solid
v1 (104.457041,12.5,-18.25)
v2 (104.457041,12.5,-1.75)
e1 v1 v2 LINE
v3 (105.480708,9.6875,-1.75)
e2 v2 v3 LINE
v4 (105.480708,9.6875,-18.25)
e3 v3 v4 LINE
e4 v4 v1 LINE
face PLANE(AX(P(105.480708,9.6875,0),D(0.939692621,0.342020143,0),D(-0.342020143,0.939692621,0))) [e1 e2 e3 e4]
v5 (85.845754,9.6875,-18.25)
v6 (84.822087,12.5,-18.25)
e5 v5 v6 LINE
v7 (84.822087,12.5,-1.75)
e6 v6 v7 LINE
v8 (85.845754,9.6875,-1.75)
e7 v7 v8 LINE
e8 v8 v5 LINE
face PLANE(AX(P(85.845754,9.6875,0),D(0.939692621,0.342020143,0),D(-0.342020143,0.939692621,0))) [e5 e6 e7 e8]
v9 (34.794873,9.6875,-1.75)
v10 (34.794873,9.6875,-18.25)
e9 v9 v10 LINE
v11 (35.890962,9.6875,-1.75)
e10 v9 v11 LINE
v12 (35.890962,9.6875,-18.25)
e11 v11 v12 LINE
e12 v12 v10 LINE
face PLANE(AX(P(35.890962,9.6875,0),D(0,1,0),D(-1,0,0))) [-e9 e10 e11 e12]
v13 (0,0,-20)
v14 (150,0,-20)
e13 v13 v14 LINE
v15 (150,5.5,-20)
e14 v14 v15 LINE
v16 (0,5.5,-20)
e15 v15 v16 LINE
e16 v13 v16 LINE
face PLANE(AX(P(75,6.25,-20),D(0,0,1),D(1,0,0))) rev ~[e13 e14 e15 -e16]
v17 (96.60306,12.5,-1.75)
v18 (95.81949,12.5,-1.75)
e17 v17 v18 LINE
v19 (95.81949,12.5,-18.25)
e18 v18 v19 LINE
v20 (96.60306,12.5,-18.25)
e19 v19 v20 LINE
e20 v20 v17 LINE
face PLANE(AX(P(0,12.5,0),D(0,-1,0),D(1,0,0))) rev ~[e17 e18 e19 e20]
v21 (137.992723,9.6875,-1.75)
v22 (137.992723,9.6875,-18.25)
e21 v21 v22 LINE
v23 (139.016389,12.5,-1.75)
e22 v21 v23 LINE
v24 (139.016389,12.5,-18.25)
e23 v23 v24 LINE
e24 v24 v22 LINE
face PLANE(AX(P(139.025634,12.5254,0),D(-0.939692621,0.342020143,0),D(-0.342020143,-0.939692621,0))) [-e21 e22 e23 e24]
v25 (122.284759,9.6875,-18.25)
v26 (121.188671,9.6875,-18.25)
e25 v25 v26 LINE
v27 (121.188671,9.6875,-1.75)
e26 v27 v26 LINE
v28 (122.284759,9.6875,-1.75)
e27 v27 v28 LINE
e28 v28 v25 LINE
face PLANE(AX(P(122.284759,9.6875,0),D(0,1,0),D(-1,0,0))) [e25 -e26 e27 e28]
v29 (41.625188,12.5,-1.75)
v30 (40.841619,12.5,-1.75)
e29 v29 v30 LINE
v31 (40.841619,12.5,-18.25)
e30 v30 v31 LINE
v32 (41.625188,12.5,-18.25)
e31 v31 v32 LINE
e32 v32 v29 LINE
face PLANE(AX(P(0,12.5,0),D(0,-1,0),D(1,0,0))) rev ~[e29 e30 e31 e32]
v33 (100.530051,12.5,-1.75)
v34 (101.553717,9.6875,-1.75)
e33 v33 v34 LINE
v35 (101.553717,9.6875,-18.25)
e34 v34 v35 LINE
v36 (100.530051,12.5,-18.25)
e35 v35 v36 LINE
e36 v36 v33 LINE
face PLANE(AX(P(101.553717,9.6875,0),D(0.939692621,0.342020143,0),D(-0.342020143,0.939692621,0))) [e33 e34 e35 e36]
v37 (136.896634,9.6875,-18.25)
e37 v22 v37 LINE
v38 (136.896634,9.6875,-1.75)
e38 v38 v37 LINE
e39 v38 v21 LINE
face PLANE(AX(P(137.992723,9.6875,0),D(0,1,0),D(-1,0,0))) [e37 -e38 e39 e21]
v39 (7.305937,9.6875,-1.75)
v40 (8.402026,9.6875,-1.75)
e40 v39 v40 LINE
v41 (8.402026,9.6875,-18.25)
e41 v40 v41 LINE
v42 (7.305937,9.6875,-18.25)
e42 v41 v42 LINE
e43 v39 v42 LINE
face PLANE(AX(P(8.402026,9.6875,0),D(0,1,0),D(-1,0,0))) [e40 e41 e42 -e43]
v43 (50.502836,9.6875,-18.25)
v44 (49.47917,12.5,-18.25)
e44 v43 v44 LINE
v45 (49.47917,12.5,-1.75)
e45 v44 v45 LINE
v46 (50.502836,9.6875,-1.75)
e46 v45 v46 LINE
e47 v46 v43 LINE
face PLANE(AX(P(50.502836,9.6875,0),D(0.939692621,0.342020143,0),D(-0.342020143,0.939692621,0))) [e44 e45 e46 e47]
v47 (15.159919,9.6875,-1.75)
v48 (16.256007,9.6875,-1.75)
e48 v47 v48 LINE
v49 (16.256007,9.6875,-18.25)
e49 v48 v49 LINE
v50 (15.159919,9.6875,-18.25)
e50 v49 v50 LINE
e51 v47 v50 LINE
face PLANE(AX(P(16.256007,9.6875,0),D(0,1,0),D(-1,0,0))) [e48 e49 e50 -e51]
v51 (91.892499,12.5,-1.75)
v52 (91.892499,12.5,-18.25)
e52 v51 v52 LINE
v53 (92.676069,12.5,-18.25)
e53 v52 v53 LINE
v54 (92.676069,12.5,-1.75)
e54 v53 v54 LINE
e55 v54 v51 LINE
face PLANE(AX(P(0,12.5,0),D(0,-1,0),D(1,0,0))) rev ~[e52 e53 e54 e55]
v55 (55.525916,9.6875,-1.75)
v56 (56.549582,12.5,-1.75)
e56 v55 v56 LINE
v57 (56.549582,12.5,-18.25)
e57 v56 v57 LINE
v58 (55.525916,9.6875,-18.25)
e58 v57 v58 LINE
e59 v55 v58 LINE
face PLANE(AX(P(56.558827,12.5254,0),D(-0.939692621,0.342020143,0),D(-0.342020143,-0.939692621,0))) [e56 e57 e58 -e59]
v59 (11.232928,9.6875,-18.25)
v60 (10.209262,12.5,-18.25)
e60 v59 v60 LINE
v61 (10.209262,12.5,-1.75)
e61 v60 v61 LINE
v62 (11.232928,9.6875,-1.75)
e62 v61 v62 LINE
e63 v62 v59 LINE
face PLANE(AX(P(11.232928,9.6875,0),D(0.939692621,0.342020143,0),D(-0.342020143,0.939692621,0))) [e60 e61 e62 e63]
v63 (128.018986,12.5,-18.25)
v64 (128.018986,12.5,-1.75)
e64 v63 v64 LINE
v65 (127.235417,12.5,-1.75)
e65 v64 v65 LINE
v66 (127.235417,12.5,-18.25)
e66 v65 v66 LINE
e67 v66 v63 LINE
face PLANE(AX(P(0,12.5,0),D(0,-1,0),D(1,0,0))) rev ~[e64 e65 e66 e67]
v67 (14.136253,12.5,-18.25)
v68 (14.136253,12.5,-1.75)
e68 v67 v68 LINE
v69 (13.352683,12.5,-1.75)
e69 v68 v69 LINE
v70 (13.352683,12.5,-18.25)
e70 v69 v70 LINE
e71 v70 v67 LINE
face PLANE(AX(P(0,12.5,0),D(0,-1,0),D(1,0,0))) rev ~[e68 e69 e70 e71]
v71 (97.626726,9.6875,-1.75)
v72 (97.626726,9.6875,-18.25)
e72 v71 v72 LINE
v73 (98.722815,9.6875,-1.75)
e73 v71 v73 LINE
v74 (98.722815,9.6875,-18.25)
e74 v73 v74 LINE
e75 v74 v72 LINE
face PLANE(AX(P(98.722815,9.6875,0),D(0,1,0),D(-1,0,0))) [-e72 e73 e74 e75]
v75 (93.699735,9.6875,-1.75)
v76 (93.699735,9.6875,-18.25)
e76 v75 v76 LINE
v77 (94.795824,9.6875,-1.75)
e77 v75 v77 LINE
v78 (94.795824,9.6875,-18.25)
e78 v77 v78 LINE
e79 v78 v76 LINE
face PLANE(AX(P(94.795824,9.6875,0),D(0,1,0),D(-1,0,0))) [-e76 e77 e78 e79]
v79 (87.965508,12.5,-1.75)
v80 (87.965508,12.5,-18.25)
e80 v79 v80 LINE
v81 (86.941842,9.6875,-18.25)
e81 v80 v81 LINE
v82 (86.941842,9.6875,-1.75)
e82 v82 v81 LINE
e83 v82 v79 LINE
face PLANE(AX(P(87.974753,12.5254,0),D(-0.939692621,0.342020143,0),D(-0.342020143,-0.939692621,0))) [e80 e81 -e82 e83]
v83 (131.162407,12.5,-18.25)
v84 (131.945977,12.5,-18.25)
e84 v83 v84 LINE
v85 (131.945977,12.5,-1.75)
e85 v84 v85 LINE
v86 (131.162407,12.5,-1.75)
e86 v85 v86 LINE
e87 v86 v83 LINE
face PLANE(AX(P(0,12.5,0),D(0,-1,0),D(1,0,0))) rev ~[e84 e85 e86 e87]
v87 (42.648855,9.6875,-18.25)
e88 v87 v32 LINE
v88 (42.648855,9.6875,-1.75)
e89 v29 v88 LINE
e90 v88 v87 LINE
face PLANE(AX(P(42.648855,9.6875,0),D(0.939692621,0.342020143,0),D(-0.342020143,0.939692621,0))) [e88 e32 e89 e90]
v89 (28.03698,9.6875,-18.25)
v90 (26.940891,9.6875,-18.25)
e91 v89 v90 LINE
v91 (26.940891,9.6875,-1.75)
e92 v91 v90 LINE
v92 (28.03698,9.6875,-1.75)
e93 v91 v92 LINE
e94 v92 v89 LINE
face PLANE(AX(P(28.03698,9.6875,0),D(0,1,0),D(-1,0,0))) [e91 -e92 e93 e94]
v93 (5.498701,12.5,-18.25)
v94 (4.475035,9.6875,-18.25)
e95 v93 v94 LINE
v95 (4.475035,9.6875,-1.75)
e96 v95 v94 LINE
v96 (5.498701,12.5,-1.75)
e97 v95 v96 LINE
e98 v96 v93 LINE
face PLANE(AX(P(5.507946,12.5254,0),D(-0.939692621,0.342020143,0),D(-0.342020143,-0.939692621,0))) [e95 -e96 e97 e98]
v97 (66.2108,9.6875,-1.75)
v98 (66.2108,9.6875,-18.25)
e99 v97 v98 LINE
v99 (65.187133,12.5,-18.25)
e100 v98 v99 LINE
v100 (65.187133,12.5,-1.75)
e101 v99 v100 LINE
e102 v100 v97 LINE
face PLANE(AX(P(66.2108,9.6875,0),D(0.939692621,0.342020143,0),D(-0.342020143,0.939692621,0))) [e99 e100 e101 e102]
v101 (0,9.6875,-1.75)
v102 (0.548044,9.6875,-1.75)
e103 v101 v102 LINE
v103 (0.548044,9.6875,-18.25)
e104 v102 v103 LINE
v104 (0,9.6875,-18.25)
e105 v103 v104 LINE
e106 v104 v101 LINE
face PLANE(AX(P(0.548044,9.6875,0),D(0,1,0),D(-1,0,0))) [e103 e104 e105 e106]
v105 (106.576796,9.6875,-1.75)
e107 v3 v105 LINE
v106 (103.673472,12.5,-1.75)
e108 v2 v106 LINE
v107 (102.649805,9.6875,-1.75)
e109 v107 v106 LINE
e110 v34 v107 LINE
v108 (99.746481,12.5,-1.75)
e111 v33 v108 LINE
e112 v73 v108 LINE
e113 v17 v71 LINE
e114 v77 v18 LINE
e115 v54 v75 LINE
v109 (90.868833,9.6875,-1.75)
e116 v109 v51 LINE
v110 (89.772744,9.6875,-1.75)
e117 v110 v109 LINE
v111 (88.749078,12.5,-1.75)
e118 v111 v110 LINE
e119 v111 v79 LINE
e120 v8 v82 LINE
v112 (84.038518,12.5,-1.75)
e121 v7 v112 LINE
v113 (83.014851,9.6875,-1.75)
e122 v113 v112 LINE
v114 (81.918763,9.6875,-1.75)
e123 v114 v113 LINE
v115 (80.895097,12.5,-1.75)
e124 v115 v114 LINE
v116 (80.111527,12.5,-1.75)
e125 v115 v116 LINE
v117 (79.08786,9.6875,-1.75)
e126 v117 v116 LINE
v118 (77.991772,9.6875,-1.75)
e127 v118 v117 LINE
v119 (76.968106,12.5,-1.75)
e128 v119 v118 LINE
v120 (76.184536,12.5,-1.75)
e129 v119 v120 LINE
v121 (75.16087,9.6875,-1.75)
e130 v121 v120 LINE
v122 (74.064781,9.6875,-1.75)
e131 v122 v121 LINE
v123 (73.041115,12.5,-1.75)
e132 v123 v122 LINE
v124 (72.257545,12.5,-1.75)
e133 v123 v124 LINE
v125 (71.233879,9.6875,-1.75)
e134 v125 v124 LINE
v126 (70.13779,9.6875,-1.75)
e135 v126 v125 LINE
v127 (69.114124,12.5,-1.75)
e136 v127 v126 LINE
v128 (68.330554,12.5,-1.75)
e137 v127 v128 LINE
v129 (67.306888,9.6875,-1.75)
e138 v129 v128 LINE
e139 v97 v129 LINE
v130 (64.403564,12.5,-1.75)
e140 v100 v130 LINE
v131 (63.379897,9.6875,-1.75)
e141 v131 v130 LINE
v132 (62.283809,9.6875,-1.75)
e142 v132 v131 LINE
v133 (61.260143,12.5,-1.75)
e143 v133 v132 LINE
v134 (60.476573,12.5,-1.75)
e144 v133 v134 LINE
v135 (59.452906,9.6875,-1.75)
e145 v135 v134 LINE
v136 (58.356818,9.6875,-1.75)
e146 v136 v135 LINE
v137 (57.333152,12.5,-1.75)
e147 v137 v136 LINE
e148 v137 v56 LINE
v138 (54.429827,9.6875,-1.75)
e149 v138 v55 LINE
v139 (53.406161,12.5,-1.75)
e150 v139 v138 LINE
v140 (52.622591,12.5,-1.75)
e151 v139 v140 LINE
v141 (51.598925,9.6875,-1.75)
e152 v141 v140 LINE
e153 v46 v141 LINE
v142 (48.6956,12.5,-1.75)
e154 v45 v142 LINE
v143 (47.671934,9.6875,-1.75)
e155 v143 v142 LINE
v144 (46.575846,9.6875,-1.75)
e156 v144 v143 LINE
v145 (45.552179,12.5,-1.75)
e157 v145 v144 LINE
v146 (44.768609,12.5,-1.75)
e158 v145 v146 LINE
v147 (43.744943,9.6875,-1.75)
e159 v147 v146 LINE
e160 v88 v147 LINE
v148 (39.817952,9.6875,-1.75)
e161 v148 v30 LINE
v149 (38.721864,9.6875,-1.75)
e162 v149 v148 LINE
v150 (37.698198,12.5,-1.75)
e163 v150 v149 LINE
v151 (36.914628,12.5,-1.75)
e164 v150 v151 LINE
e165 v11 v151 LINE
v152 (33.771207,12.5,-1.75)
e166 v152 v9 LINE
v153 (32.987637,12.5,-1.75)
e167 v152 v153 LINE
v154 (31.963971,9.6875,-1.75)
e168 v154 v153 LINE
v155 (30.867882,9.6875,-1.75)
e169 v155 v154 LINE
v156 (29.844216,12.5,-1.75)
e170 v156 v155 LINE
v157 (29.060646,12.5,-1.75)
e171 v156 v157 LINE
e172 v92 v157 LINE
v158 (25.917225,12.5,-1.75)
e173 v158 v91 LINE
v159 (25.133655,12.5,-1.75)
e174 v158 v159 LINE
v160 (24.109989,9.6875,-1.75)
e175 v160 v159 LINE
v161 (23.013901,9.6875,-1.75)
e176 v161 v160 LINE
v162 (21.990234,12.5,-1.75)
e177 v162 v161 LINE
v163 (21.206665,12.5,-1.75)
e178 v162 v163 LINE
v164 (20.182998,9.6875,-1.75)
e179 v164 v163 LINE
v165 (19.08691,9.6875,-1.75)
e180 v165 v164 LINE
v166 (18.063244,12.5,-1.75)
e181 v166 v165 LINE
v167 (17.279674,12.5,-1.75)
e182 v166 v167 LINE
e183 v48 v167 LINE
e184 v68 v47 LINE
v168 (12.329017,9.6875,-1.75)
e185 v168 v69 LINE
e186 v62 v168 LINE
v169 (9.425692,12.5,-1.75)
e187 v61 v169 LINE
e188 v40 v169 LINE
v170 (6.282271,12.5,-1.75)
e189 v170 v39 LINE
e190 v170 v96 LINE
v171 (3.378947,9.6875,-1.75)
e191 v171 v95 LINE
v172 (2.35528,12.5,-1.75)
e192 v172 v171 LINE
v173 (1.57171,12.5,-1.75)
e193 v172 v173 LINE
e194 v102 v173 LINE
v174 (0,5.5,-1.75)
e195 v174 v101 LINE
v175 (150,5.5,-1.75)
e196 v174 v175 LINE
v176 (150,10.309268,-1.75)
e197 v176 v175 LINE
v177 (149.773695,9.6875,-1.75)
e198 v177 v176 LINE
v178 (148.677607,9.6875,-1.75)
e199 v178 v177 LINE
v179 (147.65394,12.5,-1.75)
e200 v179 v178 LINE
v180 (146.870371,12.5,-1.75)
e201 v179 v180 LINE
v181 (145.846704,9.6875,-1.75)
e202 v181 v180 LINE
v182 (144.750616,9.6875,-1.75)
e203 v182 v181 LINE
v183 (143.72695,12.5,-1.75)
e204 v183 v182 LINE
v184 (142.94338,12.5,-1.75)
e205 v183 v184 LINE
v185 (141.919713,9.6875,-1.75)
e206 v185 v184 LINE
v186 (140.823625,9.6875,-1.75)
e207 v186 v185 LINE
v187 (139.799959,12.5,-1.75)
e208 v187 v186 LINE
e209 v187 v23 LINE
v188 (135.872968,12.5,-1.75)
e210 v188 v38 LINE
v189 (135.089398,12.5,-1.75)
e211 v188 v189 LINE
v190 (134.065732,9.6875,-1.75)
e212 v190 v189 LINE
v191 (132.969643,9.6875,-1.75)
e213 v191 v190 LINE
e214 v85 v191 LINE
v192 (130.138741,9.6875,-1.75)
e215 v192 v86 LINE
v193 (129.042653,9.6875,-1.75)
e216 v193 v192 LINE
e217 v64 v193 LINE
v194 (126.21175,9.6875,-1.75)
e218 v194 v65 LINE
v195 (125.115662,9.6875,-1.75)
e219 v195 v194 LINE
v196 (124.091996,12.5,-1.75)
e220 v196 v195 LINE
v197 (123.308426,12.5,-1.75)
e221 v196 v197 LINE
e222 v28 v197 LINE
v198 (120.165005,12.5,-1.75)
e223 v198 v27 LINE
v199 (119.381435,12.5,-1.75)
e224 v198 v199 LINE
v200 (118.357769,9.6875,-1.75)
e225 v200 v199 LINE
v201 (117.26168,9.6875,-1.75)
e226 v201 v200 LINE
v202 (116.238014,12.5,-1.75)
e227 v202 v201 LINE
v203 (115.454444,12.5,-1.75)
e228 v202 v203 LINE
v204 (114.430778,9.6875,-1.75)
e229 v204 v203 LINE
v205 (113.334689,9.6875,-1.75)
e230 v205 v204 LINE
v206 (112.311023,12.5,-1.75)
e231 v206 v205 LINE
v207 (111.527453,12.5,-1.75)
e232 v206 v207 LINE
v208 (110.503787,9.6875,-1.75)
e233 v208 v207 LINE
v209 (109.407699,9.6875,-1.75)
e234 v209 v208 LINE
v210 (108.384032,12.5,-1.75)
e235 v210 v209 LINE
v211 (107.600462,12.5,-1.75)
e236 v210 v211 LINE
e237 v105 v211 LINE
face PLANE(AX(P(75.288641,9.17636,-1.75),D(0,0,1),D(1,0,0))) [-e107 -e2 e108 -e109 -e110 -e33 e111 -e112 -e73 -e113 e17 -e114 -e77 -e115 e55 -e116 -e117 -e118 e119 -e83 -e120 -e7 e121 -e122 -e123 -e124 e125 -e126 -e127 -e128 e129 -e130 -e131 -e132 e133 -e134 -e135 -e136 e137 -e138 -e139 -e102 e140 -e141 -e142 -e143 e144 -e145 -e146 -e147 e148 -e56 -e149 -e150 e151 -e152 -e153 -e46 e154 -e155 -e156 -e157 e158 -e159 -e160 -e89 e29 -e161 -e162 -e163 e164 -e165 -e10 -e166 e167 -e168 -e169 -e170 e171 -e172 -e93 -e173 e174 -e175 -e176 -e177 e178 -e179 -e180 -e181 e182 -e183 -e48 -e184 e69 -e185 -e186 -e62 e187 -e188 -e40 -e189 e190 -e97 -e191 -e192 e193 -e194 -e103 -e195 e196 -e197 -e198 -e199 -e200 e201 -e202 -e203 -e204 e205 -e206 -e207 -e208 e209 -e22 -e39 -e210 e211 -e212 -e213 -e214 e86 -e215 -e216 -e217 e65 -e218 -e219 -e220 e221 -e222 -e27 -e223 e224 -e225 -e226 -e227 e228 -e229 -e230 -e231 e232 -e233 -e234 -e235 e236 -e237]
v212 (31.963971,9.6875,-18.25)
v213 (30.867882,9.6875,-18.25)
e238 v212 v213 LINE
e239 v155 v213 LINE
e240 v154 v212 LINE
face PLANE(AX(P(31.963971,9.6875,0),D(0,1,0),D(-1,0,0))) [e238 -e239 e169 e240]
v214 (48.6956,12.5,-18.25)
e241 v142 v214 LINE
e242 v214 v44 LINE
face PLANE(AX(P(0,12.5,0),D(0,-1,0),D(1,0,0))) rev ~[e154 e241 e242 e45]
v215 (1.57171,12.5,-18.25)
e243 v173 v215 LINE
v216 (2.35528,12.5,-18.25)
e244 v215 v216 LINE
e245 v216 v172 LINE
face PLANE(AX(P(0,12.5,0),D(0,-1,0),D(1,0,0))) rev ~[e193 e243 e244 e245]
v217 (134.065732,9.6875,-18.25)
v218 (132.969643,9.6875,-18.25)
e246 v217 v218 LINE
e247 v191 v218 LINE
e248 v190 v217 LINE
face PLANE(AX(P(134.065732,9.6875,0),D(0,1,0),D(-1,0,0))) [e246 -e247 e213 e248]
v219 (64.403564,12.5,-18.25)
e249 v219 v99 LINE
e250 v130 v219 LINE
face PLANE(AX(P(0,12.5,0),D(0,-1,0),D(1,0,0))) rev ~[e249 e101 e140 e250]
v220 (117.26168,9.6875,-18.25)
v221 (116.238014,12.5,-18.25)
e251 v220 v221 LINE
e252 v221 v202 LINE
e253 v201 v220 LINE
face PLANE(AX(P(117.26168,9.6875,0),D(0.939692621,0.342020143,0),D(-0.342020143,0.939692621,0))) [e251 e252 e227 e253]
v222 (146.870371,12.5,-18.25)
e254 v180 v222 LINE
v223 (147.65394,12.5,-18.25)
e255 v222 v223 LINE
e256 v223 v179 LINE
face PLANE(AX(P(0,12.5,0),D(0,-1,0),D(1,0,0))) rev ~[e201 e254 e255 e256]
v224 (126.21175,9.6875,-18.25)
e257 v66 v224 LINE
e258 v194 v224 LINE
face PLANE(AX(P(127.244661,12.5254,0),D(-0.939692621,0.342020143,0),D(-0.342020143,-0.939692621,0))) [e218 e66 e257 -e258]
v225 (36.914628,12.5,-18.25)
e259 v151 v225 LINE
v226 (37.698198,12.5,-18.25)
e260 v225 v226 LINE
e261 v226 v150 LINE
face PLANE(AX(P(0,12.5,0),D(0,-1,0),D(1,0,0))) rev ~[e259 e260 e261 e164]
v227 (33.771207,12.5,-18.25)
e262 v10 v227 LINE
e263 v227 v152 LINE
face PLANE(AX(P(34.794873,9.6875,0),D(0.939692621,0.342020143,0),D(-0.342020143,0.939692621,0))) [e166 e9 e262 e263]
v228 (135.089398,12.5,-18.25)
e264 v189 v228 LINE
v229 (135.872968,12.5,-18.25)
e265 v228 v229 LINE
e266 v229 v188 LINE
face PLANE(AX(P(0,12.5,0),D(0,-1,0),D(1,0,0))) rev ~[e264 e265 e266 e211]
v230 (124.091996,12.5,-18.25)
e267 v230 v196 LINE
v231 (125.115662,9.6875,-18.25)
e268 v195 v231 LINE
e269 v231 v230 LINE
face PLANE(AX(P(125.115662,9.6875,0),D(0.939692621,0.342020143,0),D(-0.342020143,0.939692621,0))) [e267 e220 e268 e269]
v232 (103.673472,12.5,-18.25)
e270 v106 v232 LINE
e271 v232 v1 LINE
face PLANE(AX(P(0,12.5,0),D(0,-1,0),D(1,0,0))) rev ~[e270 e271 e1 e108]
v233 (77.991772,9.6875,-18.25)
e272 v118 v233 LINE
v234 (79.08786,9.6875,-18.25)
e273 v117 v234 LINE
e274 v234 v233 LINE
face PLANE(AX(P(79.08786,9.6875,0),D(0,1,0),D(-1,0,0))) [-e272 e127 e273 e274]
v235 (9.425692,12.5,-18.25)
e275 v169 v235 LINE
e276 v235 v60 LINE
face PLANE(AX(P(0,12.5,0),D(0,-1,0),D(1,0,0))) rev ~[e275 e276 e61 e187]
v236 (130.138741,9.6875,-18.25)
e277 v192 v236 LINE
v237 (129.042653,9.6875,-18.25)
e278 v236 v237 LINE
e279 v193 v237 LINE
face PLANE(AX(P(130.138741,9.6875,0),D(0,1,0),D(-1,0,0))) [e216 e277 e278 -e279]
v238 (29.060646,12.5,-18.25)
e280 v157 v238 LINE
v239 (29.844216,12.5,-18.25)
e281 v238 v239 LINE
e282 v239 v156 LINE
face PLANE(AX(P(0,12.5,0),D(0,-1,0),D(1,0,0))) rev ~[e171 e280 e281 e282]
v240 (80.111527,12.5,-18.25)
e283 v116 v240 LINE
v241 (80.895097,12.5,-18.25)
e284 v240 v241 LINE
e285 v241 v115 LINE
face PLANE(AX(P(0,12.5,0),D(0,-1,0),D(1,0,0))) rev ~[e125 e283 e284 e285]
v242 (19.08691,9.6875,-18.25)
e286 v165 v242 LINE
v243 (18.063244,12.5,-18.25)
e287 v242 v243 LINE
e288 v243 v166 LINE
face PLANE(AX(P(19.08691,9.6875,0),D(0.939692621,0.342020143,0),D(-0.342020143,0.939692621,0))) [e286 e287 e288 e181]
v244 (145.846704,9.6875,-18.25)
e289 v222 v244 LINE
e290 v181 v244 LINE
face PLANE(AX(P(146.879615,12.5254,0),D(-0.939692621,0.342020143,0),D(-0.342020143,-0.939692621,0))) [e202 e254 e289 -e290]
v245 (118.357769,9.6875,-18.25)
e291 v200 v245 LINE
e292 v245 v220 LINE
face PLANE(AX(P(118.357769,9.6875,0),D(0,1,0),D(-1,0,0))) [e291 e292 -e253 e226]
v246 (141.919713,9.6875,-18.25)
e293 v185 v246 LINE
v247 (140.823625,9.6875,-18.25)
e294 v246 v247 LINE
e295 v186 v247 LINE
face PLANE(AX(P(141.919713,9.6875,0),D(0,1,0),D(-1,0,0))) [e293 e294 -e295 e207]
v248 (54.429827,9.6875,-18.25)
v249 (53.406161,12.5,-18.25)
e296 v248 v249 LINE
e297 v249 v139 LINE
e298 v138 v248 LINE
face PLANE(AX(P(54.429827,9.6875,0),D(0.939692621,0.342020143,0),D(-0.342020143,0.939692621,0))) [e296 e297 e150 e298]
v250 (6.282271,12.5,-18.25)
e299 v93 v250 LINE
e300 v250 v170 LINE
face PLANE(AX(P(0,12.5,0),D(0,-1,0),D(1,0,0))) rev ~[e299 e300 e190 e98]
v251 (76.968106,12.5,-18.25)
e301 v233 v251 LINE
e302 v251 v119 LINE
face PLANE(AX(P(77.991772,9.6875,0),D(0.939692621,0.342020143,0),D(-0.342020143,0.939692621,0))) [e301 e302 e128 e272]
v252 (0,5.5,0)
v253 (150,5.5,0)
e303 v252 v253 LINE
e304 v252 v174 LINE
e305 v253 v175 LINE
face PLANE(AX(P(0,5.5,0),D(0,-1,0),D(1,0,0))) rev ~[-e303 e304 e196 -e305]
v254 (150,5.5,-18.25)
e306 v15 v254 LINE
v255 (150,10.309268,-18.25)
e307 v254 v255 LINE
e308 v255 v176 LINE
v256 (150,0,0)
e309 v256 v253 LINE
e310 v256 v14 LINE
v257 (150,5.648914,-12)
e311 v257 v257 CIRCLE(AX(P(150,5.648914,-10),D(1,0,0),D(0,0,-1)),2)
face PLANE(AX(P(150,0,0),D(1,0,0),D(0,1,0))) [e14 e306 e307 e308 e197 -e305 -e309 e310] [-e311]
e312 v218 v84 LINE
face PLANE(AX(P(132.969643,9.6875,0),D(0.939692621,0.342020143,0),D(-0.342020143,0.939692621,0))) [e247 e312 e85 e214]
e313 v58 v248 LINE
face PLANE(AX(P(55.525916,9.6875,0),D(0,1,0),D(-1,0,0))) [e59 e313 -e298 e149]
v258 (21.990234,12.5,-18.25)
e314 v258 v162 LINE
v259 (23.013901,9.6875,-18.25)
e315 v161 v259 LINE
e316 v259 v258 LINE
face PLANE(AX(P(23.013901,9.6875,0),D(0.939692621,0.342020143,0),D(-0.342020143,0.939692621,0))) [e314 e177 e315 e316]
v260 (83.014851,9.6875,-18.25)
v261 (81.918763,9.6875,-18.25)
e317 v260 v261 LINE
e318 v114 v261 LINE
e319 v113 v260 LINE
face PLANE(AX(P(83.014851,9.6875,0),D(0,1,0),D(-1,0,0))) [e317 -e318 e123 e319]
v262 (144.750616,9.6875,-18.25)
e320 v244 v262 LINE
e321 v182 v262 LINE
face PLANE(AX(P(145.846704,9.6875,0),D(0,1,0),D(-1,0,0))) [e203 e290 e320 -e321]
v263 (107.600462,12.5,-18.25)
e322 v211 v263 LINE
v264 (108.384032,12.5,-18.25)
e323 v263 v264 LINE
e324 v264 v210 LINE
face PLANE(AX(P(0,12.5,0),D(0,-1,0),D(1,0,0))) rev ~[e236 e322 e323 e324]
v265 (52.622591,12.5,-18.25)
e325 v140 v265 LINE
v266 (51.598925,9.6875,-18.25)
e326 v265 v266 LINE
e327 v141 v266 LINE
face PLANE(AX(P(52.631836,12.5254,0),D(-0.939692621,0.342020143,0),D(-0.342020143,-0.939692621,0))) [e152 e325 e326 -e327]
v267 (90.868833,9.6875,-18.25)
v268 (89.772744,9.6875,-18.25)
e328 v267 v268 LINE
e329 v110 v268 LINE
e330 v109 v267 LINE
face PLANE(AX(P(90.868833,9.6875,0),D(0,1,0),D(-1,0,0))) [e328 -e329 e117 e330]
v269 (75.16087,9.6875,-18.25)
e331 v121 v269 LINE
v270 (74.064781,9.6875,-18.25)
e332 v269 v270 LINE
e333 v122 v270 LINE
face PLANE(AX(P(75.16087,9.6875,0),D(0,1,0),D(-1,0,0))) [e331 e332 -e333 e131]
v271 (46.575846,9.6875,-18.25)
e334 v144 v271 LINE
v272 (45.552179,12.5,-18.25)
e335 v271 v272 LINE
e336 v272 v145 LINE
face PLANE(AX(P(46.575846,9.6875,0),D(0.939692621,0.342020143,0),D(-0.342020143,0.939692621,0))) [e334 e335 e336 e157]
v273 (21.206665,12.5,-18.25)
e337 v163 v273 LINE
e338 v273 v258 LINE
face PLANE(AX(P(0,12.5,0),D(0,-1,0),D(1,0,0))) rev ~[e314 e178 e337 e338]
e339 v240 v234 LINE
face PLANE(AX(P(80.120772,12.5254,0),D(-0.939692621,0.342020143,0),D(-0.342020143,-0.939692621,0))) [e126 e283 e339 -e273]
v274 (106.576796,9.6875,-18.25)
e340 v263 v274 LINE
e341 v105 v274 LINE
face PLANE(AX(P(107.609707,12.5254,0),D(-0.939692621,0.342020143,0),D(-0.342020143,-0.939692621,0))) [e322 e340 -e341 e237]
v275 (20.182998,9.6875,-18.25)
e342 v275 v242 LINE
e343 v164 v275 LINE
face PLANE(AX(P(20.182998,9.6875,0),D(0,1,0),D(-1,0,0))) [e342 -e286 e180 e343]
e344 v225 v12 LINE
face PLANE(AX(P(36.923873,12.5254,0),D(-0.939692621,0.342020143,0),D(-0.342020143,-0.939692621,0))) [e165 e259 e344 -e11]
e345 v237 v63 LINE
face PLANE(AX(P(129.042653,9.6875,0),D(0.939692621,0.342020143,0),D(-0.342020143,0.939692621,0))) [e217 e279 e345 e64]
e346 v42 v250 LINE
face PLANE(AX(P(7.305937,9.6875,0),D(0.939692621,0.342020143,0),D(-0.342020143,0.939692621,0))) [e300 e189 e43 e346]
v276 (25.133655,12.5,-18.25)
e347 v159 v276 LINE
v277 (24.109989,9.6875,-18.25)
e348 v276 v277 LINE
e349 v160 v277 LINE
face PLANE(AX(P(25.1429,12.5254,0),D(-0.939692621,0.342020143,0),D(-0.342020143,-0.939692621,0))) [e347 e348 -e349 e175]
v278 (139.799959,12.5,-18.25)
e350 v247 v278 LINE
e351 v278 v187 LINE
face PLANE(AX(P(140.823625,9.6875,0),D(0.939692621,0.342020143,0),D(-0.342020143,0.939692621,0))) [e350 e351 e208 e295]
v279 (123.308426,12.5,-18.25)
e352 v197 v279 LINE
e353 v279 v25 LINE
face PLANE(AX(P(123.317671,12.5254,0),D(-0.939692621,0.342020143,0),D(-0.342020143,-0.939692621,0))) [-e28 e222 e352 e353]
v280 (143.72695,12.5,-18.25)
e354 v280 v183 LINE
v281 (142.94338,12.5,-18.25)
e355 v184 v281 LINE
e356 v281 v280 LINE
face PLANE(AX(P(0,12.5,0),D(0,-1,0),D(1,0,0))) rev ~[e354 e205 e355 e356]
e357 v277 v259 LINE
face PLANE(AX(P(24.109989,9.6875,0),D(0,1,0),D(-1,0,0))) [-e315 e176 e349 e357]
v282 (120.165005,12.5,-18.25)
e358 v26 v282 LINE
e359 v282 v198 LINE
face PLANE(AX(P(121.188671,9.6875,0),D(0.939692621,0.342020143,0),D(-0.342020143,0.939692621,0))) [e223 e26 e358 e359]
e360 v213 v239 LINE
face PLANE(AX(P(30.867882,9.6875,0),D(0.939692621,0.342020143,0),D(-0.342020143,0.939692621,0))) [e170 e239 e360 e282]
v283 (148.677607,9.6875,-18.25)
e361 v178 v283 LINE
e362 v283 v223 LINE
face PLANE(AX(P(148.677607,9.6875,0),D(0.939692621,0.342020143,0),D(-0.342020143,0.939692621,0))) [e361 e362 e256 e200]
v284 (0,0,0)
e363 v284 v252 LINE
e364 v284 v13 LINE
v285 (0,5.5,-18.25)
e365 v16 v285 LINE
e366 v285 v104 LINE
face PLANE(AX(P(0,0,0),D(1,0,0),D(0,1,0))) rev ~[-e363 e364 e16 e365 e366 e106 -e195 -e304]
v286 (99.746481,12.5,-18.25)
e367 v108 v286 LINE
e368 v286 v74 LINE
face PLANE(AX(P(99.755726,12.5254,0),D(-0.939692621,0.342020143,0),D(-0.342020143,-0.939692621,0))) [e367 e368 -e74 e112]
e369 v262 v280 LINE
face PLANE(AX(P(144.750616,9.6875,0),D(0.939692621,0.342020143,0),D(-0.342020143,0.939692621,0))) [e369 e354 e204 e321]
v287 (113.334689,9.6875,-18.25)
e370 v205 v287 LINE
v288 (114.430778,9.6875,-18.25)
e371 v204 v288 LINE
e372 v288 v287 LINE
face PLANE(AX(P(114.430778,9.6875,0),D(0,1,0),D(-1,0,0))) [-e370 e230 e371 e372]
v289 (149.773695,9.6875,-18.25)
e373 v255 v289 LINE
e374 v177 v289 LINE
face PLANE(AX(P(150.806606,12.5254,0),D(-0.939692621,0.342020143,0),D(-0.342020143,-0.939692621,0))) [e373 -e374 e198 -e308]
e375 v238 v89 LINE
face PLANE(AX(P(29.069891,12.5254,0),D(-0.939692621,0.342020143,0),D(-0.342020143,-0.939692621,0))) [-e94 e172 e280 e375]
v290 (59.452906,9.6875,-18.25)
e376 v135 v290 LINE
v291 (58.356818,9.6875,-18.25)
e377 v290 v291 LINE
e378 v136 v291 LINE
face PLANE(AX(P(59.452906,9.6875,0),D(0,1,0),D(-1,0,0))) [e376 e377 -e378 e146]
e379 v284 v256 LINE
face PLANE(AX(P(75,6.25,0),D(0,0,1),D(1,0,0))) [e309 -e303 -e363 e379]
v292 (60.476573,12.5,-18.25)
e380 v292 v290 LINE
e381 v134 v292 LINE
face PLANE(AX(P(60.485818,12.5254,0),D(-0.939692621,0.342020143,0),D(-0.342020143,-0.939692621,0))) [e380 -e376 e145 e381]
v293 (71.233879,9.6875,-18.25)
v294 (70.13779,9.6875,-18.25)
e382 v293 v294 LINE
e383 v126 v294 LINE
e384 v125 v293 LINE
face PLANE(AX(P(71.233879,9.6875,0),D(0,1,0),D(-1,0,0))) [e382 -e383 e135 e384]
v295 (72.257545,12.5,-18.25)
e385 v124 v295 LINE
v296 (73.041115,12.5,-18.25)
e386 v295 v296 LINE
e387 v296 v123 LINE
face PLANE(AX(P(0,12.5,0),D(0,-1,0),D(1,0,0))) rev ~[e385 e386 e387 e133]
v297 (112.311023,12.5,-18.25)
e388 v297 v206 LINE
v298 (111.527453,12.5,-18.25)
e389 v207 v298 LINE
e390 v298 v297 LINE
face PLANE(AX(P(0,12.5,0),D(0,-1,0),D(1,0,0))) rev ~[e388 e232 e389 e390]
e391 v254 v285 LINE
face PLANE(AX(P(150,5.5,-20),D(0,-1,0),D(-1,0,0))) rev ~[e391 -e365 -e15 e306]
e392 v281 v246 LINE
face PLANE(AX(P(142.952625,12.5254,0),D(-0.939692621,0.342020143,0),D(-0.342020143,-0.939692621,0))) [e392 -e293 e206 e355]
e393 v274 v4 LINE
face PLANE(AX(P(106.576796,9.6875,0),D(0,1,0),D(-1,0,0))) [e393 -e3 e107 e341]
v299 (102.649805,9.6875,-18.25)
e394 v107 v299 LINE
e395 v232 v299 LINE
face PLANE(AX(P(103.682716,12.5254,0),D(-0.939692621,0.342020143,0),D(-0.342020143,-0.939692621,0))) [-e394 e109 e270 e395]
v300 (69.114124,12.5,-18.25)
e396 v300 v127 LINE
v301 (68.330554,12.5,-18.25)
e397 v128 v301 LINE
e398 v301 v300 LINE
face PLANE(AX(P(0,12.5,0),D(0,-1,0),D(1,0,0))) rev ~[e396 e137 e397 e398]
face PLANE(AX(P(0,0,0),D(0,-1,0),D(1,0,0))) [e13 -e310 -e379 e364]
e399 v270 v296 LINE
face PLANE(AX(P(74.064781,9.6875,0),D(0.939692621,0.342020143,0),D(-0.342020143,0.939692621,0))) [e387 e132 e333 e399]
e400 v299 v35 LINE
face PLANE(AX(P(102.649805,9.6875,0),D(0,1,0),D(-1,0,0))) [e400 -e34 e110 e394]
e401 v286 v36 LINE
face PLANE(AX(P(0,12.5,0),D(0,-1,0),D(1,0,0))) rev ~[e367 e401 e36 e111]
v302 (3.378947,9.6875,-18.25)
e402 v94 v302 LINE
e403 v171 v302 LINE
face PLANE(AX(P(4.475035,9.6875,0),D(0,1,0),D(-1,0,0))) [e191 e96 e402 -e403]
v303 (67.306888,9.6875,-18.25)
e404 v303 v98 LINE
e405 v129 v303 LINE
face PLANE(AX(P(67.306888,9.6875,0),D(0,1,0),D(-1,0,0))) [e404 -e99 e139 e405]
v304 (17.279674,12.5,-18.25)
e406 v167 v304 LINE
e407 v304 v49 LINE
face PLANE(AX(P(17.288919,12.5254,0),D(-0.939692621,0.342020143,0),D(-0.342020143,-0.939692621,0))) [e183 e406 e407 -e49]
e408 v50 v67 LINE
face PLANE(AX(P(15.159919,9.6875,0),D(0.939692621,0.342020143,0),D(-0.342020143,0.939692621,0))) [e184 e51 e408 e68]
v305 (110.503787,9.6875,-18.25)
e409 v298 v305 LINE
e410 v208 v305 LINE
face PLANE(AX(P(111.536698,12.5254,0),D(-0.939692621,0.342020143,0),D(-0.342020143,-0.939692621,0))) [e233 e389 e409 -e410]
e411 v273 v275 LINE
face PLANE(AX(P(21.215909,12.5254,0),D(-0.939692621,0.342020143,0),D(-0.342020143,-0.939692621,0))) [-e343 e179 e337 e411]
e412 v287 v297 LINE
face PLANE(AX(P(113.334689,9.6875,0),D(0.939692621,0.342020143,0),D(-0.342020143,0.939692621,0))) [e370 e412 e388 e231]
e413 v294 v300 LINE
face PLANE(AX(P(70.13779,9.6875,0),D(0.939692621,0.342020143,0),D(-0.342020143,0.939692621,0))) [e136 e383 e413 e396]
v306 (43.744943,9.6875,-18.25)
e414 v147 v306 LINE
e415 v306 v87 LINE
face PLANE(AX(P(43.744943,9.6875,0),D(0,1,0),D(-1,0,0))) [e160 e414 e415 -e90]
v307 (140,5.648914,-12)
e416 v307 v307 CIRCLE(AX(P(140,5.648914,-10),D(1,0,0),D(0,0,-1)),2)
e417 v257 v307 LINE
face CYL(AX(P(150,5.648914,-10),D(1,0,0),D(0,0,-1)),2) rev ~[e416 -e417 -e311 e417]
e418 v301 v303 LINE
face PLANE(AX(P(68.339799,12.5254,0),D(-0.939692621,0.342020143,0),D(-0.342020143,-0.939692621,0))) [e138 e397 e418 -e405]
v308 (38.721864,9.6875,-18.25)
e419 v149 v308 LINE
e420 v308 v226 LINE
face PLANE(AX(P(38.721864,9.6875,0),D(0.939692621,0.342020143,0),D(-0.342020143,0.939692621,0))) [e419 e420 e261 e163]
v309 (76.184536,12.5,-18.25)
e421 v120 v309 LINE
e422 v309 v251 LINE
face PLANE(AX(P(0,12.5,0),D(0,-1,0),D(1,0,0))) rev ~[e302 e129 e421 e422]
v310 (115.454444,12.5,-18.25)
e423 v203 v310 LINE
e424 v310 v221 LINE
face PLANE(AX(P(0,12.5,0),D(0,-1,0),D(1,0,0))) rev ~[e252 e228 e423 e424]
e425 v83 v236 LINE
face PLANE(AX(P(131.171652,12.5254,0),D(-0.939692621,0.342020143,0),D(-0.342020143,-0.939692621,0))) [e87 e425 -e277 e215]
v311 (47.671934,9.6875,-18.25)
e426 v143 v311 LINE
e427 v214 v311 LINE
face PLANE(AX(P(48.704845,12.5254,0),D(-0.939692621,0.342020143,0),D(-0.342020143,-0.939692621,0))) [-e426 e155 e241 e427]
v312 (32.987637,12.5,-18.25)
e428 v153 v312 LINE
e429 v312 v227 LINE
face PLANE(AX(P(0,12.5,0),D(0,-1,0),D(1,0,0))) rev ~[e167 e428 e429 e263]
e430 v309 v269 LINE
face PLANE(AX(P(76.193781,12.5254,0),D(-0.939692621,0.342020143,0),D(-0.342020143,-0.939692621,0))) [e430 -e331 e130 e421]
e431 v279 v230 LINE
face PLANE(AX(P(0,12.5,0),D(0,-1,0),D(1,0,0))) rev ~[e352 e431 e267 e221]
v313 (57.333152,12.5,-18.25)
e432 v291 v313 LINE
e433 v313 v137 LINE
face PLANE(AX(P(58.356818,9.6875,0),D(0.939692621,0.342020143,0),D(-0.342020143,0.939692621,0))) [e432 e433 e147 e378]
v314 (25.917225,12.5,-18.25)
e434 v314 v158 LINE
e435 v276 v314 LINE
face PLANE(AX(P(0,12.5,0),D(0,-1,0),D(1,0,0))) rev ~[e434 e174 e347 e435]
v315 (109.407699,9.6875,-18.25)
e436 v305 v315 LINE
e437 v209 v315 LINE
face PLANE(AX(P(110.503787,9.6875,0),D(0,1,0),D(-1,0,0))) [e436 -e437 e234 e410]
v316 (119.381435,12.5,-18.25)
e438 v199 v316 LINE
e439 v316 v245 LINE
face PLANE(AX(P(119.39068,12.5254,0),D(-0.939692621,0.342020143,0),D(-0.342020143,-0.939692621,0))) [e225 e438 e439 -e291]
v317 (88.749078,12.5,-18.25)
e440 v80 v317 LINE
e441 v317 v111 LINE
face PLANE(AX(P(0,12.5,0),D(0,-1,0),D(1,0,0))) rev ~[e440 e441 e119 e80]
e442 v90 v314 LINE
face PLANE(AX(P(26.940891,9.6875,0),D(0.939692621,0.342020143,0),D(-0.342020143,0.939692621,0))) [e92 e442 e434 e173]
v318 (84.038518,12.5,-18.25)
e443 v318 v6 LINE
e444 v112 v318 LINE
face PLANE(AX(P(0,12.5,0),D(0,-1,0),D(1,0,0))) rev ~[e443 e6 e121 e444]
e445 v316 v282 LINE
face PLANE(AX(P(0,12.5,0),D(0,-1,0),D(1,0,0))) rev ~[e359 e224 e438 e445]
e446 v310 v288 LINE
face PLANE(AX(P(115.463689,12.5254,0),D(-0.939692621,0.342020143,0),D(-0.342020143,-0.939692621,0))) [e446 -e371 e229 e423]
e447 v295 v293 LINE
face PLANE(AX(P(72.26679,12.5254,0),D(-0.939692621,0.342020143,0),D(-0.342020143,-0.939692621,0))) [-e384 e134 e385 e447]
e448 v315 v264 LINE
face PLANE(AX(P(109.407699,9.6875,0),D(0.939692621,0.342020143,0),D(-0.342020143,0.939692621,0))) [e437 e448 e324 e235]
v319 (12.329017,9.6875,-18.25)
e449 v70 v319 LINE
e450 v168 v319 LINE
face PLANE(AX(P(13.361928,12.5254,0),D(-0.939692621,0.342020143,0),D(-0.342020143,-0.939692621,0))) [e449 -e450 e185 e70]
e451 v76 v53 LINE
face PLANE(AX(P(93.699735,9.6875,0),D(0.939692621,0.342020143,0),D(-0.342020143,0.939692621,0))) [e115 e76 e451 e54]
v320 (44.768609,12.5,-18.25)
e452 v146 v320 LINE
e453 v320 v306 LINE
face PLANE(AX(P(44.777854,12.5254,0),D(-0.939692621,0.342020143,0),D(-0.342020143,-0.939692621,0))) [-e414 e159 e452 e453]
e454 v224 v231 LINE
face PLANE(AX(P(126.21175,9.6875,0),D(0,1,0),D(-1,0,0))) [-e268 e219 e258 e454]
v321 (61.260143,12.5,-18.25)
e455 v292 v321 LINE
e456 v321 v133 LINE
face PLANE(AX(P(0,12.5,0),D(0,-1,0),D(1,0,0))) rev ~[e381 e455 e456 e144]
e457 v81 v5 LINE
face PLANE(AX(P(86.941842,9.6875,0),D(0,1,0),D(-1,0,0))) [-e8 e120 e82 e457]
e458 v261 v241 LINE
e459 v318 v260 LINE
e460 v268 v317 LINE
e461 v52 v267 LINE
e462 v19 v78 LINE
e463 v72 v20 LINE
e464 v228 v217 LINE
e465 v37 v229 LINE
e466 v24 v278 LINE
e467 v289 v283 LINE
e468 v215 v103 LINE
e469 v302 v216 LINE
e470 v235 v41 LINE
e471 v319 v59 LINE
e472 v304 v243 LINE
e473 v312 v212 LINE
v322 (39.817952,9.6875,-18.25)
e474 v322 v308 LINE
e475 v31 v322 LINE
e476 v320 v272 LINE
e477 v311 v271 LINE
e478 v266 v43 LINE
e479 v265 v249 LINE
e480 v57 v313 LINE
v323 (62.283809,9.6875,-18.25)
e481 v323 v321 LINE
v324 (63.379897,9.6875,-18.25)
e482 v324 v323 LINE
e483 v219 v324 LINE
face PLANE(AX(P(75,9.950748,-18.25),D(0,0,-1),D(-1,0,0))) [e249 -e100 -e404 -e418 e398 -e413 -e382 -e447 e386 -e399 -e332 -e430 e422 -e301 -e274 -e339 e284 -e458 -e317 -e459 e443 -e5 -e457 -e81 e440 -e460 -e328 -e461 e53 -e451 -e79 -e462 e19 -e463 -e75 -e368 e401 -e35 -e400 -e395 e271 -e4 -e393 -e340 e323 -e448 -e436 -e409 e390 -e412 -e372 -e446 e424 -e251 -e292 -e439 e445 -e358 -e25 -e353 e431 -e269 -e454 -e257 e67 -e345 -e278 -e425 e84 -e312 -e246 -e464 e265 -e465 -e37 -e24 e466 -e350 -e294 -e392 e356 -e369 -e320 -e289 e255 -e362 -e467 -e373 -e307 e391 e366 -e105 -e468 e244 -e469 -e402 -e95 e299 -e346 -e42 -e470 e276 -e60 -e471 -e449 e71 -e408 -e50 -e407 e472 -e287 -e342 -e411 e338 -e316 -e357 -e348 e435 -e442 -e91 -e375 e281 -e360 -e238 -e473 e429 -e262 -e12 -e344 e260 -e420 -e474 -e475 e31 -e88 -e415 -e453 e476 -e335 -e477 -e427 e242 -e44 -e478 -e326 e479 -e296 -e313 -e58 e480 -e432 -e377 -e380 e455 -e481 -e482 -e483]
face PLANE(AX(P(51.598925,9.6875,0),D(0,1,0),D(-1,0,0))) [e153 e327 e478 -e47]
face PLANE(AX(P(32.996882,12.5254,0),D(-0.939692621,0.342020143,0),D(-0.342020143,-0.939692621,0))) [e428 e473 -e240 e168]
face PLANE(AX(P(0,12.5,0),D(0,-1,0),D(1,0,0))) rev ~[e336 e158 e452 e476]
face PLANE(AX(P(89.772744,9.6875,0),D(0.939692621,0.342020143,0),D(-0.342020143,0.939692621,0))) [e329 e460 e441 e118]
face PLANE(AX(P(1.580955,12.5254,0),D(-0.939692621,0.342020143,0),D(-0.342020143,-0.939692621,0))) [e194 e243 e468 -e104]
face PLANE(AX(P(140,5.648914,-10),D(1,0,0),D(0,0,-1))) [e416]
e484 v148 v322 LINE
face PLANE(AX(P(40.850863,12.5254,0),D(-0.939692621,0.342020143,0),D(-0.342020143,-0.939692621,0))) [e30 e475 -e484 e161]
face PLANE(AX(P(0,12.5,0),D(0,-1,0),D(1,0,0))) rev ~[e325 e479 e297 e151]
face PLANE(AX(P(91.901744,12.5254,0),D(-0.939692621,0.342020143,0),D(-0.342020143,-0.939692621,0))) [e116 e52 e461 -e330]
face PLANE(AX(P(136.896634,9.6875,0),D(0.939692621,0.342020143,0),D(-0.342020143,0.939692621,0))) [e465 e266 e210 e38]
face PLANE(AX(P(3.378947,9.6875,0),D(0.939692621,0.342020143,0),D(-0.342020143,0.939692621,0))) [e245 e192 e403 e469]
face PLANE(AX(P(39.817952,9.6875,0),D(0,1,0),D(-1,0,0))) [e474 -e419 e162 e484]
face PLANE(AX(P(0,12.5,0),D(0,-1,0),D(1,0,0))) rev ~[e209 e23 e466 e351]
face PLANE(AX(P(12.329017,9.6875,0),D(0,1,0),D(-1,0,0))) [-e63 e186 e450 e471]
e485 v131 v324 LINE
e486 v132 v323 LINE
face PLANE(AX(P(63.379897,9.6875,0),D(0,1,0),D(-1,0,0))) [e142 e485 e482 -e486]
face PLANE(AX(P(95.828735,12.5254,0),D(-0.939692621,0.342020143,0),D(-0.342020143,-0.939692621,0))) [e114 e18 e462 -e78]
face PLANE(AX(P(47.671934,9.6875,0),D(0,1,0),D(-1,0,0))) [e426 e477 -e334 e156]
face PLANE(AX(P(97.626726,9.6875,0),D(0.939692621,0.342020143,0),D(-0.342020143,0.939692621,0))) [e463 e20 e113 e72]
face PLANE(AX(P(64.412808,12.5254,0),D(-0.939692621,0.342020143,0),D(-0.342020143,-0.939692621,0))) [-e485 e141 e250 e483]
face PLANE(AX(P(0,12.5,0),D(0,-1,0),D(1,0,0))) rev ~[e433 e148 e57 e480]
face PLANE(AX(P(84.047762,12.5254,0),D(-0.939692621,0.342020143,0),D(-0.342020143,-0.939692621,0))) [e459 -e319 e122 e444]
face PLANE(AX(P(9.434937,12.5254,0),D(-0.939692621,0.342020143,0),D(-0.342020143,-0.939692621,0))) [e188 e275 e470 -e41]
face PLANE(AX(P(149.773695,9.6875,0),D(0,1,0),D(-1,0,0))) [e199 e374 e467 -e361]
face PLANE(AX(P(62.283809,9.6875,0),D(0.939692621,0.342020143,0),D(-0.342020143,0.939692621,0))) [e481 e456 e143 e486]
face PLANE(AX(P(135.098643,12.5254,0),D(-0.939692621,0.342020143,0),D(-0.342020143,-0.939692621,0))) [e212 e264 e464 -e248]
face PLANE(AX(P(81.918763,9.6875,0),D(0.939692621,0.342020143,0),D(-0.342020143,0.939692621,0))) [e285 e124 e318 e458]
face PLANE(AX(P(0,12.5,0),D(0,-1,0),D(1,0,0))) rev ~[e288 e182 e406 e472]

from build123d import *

# Parameters (mm, degrees)
BLANKSKE_W            = 150
BLANKSKE_H            = 12.5
BLANK_DEPTH           = 20
TOOTHCUTSIM_DEPTH     = 152.842846391
TEETHCUTS_COUNT       = 39
TEETHCUTS_PITCH       = 3.926990813
CROQUIS3_W            = 150.577281711
CROQUIS3_H            = 7.352719699
CORTAR_EXTRUIR1_DEPTH = 1.75
CROQUIS4_W            = 150
CROQUIS4_H            = 8.901496228
CORTAR_EXTRUIR2_DEPTH = 1.75
CROQUIS5_R            = 2
CORTAR_EXTRUIR3_DEPTH = 10


with BuildPart() as part:
    # BlankSke → Blank (new body)
    with BuildSketch(Plane.XY):
        with Locations((75, 6.25)):
            Rectangle(BLANKSKE_W, BLANKSKE_H)
    extrude(amount=-BLANK_DEPTH)

    # TooCutSkeSim → ToothCutSim (cut, through all)
    with BuildSketch(Plane.XY):
        Polygon((0.548044212, 9.6875), (-0.548044212, 9.6875), (-1.58095534, 12.5254), (1.58095534, 12.5254), align=None)
    toothcutsim = extrude(amount=-TOOTHCUTSIM_DEPTH, mode=Mode.SUBTRACT)

    # TeethCuts: ToothCutSim ×39
    with Locations(*[(i * TEETHCUTS_PITCH, 0, 0) for i in range(1, TEETHCUTS_COUNT)]):
        add(toothcutsim, mode=Mode.SUBTRACT)

    # Croquis3 → Cortar-Extruir1 (cut)
    with BuildSketch(Plane.XY):
        with Locations((75.288640856, 9.17635985)):
            Rectangle(CROQUIS3_W, CROQUIS3_H)
    extrude(amount=-CORTAR_EXTRUIR1_DEPTH, mode=Mode.SUBTRACT)

    # Croquis4 → Cortar-Extruir2 (cut)
    with BuildSketch(Plane(origin=(0, 0, -20), x_dir=(-1, 0, 0), z_dir=(0, 0, -1))):
        with Locations((-75, 9.950748114)):
            Rectangle(CROQUIS4_W, CROQUIS4_H)
    extrude(amount=-CORTAR_EXTRUIR2_DEPTH, mode=Mode.SUBTRACT)

    # Croquis5 → Cortar-Extruir3 (cut)
    with BuildSketch(Plane(origin=(150, 0, 0), x_dir=(0, 0, -1), z_dir=(1, 0, 0))):
        with Locations((10, 5.648913774)):
            Circle(CROQUIS5_R)
    extrude(amount=-CORTAR_EXTRUIR3_DEPTH, mode=Mode.SUBTRACT)


solid = part.part
